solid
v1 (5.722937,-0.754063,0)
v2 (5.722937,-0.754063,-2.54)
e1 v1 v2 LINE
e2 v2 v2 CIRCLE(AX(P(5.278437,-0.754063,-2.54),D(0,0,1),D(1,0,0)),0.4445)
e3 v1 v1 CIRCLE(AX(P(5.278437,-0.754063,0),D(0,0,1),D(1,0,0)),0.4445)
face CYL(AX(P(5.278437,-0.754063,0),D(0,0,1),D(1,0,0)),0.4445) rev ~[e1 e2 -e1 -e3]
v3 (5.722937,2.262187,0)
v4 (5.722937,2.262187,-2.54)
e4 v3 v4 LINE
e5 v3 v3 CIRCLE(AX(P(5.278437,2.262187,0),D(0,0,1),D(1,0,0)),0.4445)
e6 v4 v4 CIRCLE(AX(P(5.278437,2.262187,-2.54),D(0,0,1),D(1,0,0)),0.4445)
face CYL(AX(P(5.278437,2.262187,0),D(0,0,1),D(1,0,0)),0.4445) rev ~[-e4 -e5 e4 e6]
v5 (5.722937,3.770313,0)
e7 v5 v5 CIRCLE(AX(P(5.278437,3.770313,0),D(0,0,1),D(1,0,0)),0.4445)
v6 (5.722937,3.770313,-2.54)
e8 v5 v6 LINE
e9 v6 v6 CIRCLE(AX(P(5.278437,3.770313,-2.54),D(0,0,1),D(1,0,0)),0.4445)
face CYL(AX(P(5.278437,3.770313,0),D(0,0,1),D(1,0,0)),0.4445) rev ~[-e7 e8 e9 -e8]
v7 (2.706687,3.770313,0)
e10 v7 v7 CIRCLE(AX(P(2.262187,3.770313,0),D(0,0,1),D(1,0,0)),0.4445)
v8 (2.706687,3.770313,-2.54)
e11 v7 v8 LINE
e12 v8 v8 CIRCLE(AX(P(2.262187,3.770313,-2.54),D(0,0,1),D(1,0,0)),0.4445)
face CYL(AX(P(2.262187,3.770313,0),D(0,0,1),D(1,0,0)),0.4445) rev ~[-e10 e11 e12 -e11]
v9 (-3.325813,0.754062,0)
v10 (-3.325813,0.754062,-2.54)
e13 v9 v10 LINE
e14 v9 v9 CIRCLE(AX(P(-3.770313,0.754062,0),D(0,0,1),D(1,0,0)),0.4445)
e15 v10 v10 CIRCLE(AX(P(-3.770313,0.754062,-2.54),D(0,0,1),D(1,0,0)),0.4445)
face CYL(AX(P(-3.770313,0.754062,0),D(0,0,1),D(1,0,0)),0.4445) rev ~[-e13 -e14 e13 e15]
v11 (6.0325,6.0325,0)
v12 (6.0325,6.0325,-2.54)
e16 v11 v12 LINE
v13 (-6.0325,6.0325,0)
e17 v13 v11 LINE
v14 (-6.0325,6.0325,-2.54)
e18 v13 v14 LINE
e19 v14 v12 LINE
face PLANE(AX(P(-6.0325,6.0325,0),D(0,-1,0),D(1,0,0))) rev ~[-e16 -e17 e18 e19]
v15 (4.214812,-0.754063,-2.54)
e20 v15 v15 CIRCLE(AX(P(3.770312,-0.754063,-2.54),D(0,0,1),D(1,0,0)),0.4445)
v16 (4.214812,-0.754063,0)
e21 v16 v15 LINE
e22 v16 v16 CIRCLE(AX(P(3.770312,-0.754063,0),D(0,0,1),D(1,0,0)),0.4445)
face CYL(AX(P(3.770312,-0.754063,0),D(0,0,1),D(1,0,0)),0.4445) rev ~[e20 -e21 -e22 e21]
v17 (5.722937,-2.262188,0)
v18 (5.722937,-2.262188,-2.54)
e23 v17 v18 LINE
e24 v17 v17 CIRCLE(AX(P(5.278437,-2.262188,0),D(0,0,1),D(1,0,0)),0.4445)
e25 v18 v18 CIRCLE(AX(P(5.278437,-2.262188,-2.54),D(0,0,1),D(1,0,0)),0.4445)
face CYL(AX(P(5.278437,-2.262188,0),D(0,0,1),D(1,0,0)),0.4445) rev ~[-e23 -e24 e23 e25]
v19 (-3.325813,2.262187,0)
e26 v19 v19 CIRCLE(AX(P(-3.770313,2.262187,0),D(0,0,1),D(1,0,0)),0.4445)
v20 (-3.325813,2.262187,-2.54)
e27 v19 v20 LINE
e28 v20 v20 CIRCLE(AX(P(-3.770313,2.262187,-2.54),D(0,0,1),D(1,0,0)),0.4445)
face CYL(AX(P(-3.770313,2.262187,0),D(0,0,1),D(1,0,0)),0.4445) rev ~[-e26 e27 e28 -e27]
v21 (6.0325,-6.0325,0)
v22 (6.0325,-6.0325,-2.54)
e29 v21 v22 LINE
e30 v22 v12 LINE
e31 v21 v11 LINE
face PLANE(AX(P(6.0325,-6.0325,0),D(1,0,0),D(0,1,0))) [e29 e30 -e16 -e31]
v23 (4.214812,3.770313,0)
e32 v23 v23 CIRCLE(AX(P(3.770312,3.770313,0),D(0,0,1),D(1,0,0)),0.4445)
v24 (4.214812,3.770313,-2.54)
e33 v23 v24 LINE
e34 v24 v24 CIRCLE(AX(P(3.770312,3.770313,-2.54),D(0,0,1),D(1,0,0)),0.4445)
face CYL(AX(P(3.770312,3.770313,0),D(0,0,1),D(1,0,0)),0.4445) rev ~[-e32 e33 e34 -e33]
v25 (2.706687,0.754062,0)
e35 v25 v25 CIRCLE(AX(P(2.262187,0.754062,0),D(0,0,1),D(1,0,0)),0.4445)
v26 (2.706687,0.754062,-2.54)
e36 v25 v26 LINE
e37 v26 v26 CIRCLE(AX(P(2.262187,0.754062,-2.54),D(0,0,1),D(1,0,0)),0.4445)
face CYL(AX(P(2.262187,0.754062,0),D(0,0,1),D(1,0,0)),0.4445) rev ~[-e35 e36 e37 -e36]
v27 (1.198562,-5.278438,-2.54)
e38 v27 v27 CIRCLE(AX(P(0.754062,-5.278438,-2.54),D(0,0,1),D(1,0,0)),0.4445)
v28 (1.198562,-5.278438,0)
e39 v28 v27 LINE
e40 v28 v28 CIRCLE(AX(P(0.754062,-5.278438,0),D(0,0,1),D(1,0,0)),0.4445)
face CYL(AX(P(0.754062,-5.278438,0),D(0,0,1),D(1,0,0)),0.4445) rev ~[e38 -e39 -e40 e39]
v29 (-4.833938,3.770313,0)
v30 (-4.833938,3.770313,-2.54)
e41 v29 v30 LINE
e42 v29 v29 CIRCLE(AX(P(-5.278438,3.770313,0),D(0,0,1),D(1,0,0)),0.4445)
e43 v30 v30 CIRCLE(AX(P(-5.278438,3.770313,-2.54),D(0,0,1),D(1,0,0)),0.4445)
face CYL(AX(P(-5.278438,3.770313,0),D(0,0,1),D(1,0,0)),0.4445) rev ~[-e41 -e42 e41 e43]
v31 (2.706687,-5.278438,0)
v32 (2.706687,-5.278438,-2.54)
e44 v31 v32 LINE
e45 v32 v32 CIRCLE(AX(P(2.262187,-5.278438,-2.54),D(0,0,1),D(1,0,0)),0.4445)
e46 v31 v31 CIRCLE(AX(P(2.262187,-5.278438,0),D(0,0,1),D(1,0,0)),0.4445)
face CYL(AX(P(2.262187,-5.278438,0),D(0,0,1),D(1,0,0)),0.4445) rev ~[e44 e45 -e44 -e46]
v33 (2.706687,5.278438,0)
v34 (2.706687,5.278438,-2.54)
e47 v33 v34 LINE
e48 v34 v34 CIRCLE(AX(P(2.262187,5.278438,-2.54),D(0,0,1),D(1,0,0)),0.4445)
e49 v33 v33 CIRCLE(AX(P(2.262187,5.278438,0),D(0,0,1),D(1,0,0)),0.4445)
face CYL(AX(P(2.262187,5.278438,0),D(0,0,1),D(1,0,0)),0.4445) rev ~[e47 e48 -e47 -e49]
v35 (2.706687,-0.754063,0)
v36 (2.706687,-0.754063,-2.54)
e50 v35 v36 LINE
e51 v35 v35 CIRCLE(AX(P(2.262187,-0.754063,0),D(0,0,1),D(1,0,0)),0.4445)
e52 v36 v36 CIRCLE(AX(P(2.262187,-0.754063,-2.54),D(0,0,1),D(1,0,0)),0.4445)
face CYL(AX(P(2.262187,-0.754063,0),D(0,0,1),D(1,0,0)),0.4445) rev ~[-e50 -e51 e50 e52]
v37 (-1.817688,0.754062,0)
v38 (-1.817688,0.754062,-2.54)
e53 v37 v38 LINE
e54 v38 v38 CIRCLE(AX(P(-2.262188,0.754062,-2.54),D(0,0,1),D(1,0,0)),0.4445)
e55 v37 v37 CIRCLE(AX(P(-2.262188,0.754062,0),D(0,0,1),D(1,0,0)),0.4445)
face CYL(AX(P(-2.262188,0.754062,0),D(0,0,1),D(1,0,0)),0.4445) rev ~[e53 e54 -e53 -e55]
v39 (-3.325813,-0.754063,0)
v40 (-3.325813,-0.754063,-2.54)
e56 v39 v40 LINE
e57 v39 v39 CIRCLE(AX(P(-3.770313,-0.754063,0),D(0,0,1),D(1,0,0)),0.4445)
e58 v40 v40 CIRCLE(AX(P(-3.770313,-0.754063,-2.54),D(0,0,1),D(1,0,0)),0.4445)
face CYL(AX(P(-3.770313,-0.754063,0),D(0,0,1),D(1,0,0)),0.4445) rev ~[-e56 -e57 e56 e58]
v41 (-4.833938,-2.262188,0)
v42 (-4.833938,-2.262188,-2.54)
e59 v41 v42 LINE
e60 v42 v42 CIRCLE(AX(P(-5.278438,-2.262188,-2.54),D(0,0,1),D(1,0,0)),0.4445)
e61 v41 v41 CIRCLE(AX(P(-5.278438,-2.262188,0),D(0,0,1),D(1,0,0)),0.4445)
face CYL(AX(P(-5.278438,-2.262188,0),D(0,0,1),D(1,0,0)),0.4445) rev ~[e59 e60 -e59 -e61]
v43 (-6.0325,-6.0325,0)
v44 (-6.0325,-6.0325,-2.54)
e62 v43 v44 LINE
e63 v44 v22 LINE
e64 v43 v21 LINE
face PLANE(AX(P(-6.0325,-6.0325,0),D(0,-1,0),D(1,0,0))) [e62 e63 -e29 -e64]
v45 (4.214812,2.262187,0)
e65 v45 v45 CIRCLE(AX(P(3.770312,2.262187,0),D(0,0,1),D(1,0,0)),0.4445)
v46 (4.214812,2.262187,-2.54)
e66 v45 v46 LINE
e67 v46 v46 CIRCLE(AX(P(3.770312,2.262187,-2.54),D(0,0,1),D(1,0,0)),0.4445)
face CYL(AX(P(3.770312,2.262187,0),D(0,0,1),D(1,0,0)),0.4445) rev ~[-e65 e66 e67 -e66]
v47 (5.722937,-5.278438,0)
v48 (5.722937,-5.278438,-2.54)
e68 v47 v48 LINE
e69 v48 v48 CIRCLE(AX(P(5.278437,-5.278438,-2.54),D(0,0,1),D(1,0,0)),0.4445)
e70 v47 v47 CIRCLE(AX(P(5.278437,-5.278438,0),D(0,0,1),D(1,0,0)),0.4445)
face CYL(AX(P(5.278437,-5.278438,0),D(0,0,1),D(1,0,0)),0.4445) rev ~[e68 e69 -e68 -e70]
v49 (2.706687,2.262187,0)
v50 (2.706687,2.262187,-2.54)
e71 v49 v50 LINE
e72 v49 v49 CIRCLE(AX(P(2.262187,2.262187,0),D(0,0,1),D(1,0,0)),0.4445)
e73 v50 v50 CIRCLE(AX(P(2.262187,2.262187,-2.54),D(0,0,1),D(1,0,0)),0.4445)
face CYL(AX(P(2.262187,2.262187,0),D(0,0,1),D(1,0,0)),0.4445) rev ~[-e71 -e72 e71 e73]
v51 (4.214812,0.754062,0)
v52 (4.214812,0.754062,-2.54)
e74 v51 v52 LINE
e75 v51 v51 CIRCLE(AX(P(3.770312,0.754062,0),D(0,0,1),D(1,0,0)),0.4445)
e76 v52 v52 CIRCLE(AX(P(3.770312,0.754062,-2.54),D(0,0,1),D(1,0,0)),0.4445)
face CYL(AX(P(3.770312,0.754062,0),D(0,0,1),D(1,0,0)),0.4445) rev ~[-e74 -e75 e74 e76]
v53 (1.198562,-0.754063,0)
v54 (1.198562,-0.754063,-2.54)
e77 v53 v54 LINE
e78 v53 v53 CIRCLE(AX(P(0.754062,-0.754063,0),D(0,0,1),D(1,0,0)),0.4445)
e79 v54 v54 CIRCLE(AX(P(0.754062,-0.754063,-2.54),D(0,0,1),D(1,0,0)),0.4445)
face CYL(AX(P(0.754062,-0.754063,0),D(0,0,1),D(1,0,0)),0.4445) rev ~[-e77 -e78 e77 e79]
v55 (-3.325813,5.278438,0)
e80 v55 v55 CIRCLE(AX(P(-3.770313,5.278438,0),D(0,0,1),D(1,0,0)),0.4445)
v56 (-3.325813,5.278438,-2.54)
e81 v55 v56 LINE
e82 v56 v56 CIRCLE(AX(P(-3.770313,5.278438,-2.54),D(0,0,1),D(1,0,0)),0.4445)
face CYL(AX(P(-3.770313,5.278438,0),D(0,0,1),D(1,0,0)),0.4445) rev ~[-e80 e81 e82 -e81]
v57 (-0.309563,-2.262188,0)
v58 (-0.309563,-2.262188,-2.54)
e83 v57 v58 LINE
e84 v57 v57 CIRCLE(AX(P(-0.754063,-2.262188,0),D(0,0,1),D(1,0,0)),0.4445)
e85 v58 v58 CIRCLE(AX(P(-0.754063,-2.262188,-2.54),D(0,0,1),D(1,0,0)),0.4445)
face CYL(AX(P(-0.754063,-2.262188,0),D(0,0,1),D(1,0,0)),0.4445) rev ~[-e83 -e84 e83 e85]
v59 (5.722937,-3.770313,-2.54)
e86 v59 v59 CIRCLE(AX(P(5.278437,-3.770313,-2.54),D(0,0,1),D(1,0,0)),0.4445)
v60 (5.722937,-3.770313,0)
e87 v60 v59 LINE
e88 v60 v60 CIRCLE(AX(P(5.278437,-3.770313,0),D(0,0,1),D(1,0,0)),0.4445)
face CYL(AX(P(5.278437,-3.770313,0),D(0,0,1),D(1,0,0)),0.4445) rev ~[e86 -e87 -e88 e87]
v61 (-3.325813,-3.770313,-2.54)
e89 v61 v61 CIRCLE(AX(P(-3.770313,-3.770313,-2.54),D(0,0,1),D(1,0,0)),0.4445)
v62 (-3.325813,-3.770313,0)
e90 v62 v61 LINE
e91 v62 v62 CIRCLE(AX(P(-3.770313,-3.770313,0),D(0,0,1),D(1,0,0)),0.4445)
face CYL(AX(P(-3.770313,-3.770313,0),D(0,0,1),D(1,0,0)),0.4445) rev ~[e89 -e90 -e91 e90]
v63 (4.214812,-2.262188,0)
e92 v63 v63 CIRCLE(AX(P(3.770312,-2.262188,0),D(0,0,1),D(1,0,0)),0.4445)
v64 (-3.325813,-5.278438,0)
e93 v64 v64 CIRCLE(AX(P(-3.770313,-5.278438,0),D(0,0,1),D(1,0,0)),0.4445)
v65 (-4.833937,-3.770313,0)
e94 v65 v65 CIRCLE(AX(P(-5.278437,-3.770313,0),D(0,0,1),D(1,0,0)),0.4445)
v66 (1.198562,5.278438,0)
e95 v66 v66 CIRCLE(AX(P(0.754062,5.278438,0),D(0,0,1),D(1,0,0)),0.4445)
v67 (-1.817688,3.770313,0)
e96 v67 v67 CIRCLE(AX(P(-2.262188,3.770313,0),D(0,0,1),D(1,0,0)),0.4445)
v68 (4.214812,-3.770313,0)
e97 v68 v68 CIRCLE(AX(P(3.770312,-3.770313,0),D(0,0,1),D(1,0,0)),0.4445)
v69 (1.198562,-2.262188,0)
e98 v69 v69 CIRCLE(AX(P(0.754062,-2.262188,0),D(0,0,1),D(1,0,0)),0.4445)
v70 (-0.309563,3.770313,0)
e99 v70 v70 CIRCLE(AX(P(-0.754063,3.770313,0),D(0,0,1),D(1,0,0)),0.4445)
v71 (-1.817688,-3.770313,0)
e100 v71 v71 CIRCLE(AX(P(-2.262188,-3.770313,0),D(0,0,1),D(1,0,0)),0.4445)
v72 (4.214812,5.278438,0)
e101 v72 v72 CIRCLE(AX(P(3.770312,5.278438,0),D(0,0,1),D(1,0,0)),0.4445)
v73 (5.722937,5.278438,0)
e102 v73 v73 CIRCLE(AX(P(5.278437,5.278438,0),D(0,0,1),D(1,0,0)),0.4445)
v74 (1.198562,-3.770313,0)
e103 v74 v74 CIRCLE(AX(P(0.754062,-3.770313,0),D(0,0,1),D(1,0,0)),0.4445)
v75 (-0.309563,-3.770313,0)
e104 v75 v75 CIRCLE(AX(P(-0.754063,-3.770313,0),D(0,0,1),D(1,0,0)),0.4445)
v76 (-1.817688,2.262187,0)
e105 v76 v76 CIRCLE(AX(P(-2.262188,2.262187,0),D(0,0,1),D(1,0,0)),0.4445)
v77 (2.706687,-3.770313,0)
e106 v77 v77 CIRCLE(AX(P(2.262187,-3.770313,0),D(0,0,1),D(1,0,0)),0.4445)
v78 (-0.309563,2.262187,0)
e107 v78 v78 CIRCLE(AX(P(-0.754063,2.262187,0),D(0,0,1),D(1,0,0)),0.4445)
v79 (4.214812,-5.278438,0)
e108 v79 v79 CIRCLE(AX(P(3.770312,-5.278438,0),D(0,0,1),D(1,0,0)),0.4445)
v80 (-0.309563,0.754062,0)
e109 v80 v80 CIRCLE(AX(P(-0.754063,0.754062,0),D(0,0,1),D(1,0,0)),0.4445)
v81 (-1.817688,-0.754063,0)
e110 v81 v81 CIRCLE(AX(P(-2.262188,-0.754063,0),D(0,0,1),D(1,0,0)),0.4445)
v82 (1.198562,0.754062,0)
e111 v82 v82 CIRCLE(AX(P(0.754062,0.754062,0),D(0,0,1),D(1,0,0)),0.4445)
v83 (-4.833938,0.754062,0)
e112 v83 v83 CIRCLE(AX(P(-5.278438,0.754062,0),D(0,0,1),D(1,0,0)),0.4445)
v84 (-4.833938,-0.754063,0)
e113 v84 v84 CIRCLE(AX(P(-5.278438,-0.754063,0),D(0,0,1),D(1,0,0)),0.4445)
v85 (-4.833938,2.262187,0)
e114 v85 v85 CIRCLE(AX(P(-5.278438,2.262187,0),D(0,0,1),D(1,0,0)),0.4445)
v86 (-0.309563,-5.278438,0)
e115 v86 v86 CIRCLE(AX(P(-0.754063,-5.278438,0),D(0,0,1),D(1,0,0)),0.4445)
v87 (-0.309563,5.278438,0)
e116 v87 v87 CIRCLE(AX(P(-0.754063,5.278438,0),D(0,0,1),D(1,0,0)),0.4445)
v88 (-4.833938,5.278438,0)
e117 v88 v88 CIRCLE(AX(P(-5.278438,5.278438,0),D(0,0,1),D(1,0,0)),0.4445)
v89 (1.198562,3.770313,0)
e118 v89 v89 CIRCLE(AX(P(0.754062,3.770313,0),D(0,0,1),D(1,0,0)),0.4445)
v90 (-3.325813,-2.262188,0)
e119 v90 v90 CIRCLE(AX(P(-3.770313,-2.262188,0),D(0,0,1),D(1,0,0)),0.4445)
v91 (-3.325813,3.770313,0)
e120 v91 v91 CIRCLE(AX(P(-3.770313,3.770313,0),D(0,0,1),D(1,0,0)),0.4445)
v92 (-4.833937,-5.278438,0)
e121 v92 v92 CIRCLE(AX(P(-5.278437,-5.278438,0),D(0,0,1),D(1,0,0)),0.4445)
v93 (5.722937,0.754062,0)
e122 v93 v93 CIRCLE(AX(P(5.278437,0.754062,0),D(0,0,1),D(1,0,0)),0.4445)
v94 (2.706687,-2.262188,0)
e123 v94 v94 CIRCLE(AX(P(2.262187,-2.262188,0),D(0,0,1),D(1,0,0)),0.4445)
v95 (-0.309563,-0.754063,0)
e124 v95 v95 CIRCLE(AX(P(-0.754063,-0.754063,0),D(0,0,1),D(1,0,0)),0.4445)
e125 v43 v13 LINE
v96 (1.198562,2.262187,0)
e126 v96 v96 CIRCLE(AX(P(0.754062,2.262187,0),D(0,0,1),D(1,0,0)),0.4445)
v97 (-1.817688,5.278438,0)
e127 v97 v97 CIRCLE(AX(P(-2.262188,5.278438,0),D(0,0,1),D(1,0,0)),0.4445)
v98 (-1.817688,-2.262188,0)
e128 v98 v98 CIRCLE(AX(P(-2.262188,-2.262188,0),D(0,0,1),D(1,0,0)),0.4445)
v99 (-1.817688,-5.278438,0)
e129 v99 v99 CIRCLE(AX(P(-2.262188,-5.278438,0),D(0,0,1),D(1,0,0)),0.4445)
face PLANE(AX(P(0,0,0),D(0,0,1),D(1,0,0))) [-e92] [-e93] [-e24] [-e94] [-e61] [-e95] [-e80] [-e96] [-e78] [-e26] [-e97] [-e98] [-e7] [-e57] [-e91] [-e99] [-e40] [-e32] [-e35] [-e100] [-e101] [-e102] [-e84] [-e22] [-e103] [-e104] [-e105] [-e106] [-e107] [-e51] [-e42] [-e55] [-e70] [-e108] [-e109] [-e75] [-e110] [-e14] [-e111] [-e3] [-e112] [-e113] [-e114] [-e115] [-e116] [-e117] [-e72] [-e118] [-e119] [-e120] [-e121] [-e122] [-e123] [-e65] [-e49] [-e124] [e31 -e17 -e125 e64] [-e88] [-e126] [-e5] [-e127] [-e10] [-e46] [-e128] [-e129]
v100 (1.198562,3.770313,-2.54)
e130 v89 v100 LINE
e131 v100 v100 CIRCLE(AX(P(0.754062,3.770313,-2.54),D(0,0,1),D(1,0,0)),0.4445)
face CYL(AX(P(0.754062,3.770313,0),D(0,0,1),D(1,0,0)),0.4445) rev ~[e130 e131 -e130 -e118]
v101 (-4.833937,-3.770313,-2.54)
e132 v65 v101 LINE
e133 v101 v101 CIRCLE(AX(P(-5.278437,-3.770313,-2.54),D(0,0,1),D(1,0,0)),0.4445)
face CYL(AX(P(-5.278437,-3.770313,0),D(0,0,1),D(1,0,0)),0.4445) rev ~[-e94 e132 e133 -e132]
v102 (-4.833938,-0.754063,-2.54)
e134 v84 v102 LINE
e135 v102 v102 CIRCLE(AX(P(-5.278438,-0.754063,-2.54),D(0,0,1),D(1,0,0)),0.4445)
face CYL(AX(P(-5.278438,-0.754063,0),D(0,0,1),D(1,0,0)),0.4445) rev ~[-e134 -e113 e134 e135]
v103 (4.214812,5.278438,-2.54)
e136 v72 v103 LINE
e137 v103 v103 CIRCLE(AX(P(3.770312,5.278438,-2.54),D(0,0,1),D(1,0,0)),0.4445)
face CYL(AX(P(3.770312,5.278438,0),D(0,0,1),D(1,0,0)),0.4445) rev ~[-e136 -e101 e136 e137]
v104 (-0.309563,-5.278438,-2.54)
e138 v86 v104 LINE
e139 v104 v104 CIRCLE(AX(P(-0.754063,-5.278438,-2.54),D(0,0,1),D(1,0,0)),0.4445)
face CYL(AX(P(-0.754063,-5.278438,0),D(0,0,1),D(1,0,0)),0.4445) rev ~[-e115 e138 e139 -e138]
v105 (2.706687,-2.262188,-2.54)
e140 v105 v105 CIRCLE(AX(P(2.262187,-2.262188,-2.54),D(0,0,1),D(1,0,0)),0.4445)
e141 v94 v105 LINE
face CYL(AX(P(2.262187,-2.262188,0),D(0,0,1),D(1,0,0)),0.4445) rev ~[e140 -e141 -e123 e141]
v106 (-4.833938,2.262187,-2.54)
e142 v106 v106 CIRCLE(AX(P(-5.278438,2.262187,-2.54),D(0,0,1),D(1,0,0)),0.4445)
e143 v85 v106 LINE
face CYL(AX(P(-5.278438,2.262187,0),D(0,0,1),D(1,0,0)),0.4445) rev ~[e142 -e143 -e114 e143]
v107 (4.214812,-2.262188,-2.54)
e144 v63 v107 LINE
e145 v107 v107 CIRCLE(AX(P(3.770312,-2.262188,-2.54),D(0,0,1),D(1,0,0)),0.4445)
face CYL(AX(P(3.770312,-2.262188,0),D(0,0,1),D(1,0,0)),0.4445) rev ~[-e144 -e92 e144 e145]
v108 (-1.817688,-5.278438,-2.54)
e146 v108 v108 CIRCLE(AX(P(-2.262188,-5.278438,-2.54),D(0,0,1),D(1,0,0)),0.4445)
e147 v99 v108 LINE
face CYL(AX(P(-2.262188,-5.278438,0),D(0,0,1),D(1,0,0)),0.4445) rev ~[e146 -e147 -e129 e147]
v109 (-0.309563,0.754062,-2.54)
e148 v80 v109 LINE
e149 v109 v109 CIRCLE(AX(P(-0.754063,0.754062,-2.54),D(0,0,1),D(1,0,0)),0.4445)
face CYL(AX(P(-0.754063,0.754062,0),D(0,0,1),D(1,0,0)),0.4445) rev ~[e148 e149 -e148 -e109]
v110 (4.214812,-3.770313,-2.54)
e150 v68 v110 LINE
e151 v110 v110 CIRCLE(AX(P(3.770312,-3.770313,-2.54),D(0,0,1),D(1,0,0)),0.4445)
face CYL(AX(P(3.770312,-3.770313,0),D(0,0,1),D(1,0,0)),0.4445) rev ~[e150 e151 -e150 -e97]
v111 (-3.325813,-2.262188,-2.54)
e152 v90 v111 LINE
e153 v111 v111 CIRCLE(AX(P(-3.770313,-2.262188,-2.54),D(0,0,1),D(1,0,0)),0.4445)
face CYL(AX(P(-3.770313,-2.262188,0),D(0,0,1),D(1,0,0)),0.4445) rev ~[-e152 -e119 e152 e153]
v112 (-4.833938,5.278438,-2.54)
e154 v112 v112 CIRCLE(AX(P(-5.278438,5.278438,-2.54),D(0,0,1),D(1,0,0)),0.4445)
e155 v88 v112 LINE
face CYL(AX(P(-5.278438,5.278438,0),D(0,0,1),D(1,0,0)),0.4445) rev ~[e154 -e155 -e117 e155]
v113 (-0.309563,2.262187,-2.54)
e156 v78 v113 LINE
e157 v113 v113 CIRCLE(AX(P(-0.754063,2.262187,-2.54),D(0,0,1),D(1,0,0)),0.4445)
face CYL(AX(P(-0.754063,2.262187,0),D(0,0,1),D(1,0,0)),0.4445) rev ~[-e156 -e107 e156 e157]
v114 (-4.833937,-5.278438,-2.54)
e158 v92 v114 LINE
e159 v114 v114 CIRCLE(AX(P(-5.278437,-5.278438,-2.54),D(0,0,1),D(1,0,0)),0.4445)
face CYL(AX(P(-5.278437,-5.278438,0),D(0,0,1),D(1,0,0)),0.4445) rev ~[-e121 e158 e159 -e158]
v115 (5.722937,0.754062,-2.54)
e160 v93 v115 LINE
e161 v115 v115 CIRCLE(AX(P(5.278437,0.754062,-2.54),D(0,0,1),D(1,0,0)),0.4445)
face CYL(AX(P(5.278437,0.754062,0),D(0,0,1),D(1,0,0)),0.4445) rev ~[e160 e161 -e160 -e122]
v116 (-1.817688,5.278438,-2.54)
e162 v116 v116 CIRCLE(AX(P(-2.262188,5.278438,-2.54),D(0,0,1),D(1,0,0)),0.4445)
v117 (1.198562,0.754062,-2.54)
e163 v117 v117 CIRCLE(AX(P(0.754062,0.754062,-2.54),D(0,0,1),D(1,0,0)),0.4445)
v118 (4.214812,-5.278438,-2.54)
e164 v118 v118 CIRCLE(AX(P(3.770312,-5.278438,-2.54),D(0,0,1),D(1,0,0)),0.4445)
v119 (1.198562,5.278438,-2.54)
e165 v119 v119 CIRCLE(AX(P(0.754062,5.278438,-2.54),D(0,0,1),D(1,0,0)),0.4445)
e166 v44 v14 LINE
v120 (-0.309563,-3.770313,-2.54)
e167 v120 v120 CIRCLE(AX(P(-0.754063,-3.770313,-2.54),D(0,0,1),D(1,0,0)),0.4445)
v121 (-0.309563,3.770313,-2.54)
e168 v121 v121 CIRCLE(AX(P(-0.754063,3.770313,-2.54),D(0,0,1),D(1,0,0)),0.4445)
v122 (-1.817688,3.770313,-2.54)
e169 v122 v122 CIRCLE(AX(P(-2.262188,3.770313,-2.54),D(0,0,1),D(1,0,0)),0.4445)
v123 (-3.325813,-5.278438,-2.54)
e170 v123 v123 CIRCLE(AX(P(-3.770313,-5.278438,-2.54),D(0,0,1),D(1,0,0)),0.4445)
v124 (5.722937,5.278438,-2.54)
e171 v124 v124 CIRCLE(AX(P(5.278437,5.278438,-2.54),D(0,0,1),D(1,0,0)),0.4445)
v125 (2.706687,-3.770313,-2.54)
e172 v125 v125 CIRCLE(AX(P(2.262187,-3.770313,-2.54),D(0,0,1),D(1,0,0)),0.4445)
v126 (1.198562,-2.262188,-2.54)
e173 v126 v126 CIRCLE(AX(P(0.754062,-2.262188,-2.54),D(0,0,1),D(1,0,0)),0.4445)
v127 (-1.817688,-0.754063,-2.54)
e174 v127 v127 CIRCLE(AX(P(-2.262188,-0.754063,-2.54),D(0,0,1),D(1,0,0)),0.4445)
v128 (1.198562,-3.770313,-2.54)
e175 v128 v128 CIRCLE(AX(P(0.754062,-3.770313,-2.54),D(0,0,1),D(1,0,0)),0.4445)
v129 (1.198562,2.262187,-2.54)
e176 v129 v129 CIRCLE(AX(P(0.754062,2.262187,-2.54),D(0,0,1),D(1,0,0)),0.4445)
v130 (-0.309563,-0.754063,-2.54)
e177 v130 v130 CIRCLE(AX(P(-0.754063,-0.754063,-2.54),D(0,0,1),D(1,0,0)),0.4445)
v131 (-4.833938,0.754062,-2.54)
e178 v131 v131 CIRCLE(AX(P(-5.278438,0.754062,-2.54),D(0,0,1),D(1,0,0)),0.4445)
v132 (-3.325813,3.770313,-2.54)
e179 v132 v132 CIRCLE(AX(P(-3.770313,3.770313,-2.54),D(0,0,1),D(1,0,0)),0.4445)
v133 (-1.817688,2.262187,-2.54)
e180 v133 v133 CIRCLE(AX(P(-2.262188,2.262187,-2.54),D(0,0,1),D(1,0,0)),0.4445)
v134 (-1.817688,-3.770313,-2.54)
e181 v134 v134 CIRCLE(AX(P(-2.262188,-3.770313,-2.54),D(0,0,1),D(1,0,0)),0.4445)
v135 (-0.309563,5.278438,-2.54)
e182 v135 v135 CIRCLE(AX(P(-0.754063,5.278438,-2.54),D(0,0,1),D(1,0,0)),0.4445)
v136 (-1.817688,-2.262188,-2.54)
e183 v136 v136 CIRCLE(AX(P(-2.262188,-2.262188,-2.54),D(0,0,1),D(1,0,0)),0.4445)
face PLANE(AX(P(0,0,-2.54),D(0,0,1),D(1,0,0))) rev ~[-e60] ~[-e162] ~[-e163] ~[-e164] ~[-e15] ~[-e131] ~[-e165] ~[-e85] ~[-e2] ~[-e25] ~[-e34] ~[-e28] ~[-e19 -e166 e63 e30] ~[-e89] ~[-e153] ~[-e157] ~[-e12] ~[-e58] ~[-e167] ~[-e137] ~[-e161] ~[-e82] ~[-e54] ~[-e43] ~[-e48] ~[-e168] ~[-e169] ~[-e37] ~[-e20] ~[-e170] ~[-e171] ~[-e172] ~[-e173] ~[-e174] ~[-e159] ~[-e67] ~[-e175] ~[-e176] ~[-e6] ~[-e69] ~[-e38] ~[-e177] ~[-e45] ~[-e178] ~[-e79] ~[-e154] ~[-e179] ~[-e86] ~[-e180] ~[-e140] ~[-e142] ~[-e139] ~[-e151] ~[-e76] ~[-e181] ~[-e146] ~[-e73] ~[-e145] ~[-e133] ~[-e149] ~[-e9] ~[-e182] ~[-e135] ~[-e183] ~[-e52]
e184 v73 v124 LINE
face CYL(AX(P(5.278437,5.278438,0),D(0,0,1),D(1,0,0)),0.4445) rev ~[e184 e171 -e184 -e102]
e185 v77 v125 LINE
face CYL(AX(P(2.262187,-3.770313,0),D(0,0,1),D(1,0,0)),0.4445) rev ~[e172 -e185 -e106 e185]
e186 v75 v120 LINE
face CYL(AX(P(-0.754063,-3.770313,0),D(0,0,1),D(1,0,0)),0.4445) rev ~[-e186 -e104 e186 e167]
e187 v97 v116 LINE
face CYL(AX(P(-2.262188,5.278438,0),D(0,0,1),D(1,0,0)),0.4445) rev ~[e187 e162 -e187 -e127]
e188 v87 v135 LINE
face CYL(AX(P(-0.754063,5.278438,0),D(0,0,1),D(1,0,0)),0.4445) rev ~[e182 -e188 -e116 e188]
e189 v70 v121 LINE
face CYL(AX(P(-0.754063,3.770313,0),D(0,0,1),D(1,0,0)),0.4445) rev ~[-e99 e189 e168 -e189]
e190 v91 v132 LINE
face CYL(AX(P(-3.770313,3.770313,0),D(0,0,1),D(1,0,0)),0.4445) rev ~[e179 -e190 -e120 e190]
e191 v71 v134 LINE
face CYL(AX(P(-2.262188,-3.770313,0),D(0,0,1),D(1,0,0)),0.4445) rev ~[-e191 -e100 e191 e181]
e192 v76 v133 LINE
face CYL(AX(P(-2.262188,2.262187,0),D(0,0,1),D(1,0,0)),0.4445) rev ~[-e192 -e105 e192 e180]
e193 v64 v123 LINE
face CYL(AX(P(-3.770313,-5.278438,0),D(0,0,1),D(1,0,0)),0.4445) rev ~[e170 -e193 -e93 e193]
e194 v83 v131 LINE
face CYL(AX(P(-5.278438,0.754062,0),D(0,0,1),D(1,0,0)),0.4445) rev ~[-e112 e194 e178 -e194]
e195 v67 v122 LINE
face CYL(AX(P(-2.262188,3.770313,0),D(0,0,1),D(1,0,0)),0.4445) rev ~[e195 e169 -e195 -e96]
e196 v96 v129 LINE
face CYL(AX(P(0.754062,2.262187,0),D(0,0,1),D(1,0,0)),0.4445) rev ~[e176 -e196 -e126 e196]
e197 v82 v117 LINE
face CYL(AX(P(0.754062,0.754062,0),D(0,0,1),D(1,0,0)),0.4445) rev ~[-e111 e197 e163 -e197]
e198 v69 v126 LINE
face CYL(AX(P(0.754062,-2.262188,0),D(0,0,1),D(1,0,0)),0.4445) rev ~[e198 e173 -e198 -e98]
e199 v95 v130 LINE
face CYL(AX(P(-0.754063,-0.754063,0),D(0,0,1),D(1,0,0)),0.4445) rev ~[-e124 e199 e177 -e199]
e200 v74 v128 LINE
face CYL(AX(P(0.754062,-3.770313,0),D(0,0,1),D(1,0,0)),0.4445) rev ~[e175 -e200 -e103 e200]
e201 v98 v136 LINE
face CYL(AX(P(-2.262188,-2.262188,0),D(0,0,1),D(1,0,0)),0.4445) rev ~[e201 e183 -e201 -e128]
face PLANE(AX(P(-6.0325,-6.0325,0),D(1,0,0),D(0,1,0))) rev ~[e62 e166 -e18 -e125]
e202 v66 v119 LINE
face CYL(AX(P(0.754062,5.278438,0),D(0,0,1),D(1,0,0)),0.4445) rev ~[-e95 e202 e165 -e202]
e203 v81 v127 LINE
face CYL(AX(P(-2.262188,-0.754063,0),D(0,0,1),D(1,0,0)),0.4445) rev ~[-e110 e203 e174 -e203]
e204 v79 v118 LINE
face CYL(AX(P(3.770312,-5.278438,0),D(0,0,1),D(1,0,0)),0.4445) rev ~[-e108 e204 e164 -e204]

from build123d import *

# Parameters (mm, degrees)
F0_W     = 12.065
F0_H     = 12.065
F1_DEPTH = 2.54
F2_R     = 0.4445
F3_DEPTH = 2.54


with BuildPart() as f1:
    # F0 (on Top) → F1 (new body)
    with BuildSketch(Plane.XY):
        Rectangle(F0_W, F0_H)
    extrude(amount=-F1_DEPTH)

    # F2 (on face) → F3 (cut, through all)
    with BuildSketch(Plane.XY):
        with Locations((-5.278438, 5.278438)):
            Circle(F2_R)
        with Locations((-3.770313, 5.278438)):
            Circle(F2_R)
        with Locations((-5.278438, 3.770313)):
            Circle(F2_R)
        with Locations((-3.770313, 3.770313)):
            Circle(F2_R)
        with Locations((-2.262188, 5.278438)):
            Circle(F2_R)
        with Locations((-2.262188, 3.770313)):
            Circle(F2_R)
        with Locations((-0.754063, 3.770313)):
            Circle(F2_R)
        with Locations((-0.754063, 5.278438)):
            Circle(F2_R)
        with Locations((-0.754063, 2.262187)):
            Circle(F2_R)
        with Locations((-2.262188, 2.262187)):
            Circle(F2_R)
        with Locations((-5.278438, 2.262187)):
            Circle(F2_R)
        with Locations((-3.770313, 2.262187)):
            Circle(F2_R)
        with Locations((0.754062, 2.262187)):
            Circle(F2_R)
        with Locations((0.754062, 3.770313)):
            Circle(F2_R)
        with Locations((0.754062, 5.278438)):
            Circle(F2_R)
        with Locations((2.262187, 5.278438)):
            Circle(F2_R)
        with Locations((2.262187, 3.770313)):
            Circle(F2_R)
        with Locations((2.262187, 2.262187)):
            Circle(F2_R)
        with Locations((-5.278437, -5.278438)):
            Circle(F2_R)
        with Locations((-5.278437, -3.770313)):
            Circle(F2_R)
        with Locations((-5.278438, -2.262188)):
            Circle(F2_R)
        with Locations((-5.278438, -0.754063)):
            Circle(F2_R)
        with Locations((-5.278438, 0.754062)):
            Circle(F2_R)
        with Locations((-3.770313, 0.754062)):
            Circle(F2_R)
        with Locations((-3.770313, -0.754063)):
            Circle(F2_R)
        with Locations((-3.770313, -2.262188)):
            Circle(F2_R)
        with Locations((-3.770313, -3.770313)):
            Circle(F2_R)
        with Locations((-3.770313, -5.278438)):
            Circle(F2_R)
        with Locations((-2.262188, -5.278438)):
            Circle(F2_R)
        with Locations((-2.262188, -3.770313)):
            Circle(F2_R)
        with Locations((-2.262188, -2.262188)):
            Circle(F2_R)
        with Locations((-2.262188, -0.754063)):
            Circle(F2_R)
        with Locations((-2.262188, 0.754062)):
            Circle(F2_R)
        with Locations((-0.754063, 0.754062)):
            Circle(F2_R)
        with Locations((0.754062, 0.754062)):
            Circle(F2_R)
        with Locations((2.262187, 0.754062)):
            Circle(F2_R)
        with Locations((2.262187, -0.754063)):
            Circle(F2_R)
        with Locations((0.754062, -0.754063)):
            Circle(F2_R)
        with Locations((-0.754063, -0.754063)):
            Circle(F2_R)
        with Locations((-0.754063, -2.262188)):
            Circle(F2_R)
        with Locations((0.754062, -2.262188)):
            Circle(F2_R)
        with Locations((2.262187, -2.262188)):
            Circle(F2_R)
        with Locations((2.262187, -3.770313)):
            Circle(F2_R)
        with Locations((0.754062, -3.770313)):
            Circle(F2_R)
        with Locations((-0.754063, -3.770313)):
            Circle(F2_R)
        with Locations((-0.754063, -5.278438)):
            Circle(F2_R)
        with Locations((0.754062, -5.278438)):
            Circle(F2_R)
        with Locations((2.262187, -5.278438)):
            Circle(F2_R)
        with Locations((5.278437, -3.770313)):
            Circle(F2_R)
        with Locations((5.278437, -5.278438)):
            Circle(F2_R)
        with Locations((5.278437, -2.262188)):
            Circle(F2_R)
        with Locations((3.770312, -2.262188)):
            Circle(F2_R)
        with Locations((3.770312, -0.754063)):
            Circle(F2_R)
        with Locations((5.278437, -0.754063)):
            Circle(F2_R)
        with Locations((5.278437, 0.754062)):
            Circle(F2_R)
        with Locations((3.770312, 0.754062)):
            Circle(F2_R)
        with Locations((3.770312, 2.262187)):
            Circle(F2_R)
        with Locations((5.278437, 2.262187)):
            Circle(F2_R)
        with Locations((3.770312, 3.770313)):
            Circle(F2_R)
        with Locations((5.278437, 5.278438)):
            Circle(F2_R)
        with Locations((5.278437, 3.770313)):
            Circle(F2_R)
        with Locations((3.770312, 5.278438)):
            Circle(F2_R)
        with Locations((3.770312, -3.770313)):
            Circle(F2_R)
        with Locations((3.770312, -5.278438)):
            Circle(F2_R)
    extrude(amount=-F3_DEPTH, mode=Mode.SUBTRACT)


solid = f1.part
